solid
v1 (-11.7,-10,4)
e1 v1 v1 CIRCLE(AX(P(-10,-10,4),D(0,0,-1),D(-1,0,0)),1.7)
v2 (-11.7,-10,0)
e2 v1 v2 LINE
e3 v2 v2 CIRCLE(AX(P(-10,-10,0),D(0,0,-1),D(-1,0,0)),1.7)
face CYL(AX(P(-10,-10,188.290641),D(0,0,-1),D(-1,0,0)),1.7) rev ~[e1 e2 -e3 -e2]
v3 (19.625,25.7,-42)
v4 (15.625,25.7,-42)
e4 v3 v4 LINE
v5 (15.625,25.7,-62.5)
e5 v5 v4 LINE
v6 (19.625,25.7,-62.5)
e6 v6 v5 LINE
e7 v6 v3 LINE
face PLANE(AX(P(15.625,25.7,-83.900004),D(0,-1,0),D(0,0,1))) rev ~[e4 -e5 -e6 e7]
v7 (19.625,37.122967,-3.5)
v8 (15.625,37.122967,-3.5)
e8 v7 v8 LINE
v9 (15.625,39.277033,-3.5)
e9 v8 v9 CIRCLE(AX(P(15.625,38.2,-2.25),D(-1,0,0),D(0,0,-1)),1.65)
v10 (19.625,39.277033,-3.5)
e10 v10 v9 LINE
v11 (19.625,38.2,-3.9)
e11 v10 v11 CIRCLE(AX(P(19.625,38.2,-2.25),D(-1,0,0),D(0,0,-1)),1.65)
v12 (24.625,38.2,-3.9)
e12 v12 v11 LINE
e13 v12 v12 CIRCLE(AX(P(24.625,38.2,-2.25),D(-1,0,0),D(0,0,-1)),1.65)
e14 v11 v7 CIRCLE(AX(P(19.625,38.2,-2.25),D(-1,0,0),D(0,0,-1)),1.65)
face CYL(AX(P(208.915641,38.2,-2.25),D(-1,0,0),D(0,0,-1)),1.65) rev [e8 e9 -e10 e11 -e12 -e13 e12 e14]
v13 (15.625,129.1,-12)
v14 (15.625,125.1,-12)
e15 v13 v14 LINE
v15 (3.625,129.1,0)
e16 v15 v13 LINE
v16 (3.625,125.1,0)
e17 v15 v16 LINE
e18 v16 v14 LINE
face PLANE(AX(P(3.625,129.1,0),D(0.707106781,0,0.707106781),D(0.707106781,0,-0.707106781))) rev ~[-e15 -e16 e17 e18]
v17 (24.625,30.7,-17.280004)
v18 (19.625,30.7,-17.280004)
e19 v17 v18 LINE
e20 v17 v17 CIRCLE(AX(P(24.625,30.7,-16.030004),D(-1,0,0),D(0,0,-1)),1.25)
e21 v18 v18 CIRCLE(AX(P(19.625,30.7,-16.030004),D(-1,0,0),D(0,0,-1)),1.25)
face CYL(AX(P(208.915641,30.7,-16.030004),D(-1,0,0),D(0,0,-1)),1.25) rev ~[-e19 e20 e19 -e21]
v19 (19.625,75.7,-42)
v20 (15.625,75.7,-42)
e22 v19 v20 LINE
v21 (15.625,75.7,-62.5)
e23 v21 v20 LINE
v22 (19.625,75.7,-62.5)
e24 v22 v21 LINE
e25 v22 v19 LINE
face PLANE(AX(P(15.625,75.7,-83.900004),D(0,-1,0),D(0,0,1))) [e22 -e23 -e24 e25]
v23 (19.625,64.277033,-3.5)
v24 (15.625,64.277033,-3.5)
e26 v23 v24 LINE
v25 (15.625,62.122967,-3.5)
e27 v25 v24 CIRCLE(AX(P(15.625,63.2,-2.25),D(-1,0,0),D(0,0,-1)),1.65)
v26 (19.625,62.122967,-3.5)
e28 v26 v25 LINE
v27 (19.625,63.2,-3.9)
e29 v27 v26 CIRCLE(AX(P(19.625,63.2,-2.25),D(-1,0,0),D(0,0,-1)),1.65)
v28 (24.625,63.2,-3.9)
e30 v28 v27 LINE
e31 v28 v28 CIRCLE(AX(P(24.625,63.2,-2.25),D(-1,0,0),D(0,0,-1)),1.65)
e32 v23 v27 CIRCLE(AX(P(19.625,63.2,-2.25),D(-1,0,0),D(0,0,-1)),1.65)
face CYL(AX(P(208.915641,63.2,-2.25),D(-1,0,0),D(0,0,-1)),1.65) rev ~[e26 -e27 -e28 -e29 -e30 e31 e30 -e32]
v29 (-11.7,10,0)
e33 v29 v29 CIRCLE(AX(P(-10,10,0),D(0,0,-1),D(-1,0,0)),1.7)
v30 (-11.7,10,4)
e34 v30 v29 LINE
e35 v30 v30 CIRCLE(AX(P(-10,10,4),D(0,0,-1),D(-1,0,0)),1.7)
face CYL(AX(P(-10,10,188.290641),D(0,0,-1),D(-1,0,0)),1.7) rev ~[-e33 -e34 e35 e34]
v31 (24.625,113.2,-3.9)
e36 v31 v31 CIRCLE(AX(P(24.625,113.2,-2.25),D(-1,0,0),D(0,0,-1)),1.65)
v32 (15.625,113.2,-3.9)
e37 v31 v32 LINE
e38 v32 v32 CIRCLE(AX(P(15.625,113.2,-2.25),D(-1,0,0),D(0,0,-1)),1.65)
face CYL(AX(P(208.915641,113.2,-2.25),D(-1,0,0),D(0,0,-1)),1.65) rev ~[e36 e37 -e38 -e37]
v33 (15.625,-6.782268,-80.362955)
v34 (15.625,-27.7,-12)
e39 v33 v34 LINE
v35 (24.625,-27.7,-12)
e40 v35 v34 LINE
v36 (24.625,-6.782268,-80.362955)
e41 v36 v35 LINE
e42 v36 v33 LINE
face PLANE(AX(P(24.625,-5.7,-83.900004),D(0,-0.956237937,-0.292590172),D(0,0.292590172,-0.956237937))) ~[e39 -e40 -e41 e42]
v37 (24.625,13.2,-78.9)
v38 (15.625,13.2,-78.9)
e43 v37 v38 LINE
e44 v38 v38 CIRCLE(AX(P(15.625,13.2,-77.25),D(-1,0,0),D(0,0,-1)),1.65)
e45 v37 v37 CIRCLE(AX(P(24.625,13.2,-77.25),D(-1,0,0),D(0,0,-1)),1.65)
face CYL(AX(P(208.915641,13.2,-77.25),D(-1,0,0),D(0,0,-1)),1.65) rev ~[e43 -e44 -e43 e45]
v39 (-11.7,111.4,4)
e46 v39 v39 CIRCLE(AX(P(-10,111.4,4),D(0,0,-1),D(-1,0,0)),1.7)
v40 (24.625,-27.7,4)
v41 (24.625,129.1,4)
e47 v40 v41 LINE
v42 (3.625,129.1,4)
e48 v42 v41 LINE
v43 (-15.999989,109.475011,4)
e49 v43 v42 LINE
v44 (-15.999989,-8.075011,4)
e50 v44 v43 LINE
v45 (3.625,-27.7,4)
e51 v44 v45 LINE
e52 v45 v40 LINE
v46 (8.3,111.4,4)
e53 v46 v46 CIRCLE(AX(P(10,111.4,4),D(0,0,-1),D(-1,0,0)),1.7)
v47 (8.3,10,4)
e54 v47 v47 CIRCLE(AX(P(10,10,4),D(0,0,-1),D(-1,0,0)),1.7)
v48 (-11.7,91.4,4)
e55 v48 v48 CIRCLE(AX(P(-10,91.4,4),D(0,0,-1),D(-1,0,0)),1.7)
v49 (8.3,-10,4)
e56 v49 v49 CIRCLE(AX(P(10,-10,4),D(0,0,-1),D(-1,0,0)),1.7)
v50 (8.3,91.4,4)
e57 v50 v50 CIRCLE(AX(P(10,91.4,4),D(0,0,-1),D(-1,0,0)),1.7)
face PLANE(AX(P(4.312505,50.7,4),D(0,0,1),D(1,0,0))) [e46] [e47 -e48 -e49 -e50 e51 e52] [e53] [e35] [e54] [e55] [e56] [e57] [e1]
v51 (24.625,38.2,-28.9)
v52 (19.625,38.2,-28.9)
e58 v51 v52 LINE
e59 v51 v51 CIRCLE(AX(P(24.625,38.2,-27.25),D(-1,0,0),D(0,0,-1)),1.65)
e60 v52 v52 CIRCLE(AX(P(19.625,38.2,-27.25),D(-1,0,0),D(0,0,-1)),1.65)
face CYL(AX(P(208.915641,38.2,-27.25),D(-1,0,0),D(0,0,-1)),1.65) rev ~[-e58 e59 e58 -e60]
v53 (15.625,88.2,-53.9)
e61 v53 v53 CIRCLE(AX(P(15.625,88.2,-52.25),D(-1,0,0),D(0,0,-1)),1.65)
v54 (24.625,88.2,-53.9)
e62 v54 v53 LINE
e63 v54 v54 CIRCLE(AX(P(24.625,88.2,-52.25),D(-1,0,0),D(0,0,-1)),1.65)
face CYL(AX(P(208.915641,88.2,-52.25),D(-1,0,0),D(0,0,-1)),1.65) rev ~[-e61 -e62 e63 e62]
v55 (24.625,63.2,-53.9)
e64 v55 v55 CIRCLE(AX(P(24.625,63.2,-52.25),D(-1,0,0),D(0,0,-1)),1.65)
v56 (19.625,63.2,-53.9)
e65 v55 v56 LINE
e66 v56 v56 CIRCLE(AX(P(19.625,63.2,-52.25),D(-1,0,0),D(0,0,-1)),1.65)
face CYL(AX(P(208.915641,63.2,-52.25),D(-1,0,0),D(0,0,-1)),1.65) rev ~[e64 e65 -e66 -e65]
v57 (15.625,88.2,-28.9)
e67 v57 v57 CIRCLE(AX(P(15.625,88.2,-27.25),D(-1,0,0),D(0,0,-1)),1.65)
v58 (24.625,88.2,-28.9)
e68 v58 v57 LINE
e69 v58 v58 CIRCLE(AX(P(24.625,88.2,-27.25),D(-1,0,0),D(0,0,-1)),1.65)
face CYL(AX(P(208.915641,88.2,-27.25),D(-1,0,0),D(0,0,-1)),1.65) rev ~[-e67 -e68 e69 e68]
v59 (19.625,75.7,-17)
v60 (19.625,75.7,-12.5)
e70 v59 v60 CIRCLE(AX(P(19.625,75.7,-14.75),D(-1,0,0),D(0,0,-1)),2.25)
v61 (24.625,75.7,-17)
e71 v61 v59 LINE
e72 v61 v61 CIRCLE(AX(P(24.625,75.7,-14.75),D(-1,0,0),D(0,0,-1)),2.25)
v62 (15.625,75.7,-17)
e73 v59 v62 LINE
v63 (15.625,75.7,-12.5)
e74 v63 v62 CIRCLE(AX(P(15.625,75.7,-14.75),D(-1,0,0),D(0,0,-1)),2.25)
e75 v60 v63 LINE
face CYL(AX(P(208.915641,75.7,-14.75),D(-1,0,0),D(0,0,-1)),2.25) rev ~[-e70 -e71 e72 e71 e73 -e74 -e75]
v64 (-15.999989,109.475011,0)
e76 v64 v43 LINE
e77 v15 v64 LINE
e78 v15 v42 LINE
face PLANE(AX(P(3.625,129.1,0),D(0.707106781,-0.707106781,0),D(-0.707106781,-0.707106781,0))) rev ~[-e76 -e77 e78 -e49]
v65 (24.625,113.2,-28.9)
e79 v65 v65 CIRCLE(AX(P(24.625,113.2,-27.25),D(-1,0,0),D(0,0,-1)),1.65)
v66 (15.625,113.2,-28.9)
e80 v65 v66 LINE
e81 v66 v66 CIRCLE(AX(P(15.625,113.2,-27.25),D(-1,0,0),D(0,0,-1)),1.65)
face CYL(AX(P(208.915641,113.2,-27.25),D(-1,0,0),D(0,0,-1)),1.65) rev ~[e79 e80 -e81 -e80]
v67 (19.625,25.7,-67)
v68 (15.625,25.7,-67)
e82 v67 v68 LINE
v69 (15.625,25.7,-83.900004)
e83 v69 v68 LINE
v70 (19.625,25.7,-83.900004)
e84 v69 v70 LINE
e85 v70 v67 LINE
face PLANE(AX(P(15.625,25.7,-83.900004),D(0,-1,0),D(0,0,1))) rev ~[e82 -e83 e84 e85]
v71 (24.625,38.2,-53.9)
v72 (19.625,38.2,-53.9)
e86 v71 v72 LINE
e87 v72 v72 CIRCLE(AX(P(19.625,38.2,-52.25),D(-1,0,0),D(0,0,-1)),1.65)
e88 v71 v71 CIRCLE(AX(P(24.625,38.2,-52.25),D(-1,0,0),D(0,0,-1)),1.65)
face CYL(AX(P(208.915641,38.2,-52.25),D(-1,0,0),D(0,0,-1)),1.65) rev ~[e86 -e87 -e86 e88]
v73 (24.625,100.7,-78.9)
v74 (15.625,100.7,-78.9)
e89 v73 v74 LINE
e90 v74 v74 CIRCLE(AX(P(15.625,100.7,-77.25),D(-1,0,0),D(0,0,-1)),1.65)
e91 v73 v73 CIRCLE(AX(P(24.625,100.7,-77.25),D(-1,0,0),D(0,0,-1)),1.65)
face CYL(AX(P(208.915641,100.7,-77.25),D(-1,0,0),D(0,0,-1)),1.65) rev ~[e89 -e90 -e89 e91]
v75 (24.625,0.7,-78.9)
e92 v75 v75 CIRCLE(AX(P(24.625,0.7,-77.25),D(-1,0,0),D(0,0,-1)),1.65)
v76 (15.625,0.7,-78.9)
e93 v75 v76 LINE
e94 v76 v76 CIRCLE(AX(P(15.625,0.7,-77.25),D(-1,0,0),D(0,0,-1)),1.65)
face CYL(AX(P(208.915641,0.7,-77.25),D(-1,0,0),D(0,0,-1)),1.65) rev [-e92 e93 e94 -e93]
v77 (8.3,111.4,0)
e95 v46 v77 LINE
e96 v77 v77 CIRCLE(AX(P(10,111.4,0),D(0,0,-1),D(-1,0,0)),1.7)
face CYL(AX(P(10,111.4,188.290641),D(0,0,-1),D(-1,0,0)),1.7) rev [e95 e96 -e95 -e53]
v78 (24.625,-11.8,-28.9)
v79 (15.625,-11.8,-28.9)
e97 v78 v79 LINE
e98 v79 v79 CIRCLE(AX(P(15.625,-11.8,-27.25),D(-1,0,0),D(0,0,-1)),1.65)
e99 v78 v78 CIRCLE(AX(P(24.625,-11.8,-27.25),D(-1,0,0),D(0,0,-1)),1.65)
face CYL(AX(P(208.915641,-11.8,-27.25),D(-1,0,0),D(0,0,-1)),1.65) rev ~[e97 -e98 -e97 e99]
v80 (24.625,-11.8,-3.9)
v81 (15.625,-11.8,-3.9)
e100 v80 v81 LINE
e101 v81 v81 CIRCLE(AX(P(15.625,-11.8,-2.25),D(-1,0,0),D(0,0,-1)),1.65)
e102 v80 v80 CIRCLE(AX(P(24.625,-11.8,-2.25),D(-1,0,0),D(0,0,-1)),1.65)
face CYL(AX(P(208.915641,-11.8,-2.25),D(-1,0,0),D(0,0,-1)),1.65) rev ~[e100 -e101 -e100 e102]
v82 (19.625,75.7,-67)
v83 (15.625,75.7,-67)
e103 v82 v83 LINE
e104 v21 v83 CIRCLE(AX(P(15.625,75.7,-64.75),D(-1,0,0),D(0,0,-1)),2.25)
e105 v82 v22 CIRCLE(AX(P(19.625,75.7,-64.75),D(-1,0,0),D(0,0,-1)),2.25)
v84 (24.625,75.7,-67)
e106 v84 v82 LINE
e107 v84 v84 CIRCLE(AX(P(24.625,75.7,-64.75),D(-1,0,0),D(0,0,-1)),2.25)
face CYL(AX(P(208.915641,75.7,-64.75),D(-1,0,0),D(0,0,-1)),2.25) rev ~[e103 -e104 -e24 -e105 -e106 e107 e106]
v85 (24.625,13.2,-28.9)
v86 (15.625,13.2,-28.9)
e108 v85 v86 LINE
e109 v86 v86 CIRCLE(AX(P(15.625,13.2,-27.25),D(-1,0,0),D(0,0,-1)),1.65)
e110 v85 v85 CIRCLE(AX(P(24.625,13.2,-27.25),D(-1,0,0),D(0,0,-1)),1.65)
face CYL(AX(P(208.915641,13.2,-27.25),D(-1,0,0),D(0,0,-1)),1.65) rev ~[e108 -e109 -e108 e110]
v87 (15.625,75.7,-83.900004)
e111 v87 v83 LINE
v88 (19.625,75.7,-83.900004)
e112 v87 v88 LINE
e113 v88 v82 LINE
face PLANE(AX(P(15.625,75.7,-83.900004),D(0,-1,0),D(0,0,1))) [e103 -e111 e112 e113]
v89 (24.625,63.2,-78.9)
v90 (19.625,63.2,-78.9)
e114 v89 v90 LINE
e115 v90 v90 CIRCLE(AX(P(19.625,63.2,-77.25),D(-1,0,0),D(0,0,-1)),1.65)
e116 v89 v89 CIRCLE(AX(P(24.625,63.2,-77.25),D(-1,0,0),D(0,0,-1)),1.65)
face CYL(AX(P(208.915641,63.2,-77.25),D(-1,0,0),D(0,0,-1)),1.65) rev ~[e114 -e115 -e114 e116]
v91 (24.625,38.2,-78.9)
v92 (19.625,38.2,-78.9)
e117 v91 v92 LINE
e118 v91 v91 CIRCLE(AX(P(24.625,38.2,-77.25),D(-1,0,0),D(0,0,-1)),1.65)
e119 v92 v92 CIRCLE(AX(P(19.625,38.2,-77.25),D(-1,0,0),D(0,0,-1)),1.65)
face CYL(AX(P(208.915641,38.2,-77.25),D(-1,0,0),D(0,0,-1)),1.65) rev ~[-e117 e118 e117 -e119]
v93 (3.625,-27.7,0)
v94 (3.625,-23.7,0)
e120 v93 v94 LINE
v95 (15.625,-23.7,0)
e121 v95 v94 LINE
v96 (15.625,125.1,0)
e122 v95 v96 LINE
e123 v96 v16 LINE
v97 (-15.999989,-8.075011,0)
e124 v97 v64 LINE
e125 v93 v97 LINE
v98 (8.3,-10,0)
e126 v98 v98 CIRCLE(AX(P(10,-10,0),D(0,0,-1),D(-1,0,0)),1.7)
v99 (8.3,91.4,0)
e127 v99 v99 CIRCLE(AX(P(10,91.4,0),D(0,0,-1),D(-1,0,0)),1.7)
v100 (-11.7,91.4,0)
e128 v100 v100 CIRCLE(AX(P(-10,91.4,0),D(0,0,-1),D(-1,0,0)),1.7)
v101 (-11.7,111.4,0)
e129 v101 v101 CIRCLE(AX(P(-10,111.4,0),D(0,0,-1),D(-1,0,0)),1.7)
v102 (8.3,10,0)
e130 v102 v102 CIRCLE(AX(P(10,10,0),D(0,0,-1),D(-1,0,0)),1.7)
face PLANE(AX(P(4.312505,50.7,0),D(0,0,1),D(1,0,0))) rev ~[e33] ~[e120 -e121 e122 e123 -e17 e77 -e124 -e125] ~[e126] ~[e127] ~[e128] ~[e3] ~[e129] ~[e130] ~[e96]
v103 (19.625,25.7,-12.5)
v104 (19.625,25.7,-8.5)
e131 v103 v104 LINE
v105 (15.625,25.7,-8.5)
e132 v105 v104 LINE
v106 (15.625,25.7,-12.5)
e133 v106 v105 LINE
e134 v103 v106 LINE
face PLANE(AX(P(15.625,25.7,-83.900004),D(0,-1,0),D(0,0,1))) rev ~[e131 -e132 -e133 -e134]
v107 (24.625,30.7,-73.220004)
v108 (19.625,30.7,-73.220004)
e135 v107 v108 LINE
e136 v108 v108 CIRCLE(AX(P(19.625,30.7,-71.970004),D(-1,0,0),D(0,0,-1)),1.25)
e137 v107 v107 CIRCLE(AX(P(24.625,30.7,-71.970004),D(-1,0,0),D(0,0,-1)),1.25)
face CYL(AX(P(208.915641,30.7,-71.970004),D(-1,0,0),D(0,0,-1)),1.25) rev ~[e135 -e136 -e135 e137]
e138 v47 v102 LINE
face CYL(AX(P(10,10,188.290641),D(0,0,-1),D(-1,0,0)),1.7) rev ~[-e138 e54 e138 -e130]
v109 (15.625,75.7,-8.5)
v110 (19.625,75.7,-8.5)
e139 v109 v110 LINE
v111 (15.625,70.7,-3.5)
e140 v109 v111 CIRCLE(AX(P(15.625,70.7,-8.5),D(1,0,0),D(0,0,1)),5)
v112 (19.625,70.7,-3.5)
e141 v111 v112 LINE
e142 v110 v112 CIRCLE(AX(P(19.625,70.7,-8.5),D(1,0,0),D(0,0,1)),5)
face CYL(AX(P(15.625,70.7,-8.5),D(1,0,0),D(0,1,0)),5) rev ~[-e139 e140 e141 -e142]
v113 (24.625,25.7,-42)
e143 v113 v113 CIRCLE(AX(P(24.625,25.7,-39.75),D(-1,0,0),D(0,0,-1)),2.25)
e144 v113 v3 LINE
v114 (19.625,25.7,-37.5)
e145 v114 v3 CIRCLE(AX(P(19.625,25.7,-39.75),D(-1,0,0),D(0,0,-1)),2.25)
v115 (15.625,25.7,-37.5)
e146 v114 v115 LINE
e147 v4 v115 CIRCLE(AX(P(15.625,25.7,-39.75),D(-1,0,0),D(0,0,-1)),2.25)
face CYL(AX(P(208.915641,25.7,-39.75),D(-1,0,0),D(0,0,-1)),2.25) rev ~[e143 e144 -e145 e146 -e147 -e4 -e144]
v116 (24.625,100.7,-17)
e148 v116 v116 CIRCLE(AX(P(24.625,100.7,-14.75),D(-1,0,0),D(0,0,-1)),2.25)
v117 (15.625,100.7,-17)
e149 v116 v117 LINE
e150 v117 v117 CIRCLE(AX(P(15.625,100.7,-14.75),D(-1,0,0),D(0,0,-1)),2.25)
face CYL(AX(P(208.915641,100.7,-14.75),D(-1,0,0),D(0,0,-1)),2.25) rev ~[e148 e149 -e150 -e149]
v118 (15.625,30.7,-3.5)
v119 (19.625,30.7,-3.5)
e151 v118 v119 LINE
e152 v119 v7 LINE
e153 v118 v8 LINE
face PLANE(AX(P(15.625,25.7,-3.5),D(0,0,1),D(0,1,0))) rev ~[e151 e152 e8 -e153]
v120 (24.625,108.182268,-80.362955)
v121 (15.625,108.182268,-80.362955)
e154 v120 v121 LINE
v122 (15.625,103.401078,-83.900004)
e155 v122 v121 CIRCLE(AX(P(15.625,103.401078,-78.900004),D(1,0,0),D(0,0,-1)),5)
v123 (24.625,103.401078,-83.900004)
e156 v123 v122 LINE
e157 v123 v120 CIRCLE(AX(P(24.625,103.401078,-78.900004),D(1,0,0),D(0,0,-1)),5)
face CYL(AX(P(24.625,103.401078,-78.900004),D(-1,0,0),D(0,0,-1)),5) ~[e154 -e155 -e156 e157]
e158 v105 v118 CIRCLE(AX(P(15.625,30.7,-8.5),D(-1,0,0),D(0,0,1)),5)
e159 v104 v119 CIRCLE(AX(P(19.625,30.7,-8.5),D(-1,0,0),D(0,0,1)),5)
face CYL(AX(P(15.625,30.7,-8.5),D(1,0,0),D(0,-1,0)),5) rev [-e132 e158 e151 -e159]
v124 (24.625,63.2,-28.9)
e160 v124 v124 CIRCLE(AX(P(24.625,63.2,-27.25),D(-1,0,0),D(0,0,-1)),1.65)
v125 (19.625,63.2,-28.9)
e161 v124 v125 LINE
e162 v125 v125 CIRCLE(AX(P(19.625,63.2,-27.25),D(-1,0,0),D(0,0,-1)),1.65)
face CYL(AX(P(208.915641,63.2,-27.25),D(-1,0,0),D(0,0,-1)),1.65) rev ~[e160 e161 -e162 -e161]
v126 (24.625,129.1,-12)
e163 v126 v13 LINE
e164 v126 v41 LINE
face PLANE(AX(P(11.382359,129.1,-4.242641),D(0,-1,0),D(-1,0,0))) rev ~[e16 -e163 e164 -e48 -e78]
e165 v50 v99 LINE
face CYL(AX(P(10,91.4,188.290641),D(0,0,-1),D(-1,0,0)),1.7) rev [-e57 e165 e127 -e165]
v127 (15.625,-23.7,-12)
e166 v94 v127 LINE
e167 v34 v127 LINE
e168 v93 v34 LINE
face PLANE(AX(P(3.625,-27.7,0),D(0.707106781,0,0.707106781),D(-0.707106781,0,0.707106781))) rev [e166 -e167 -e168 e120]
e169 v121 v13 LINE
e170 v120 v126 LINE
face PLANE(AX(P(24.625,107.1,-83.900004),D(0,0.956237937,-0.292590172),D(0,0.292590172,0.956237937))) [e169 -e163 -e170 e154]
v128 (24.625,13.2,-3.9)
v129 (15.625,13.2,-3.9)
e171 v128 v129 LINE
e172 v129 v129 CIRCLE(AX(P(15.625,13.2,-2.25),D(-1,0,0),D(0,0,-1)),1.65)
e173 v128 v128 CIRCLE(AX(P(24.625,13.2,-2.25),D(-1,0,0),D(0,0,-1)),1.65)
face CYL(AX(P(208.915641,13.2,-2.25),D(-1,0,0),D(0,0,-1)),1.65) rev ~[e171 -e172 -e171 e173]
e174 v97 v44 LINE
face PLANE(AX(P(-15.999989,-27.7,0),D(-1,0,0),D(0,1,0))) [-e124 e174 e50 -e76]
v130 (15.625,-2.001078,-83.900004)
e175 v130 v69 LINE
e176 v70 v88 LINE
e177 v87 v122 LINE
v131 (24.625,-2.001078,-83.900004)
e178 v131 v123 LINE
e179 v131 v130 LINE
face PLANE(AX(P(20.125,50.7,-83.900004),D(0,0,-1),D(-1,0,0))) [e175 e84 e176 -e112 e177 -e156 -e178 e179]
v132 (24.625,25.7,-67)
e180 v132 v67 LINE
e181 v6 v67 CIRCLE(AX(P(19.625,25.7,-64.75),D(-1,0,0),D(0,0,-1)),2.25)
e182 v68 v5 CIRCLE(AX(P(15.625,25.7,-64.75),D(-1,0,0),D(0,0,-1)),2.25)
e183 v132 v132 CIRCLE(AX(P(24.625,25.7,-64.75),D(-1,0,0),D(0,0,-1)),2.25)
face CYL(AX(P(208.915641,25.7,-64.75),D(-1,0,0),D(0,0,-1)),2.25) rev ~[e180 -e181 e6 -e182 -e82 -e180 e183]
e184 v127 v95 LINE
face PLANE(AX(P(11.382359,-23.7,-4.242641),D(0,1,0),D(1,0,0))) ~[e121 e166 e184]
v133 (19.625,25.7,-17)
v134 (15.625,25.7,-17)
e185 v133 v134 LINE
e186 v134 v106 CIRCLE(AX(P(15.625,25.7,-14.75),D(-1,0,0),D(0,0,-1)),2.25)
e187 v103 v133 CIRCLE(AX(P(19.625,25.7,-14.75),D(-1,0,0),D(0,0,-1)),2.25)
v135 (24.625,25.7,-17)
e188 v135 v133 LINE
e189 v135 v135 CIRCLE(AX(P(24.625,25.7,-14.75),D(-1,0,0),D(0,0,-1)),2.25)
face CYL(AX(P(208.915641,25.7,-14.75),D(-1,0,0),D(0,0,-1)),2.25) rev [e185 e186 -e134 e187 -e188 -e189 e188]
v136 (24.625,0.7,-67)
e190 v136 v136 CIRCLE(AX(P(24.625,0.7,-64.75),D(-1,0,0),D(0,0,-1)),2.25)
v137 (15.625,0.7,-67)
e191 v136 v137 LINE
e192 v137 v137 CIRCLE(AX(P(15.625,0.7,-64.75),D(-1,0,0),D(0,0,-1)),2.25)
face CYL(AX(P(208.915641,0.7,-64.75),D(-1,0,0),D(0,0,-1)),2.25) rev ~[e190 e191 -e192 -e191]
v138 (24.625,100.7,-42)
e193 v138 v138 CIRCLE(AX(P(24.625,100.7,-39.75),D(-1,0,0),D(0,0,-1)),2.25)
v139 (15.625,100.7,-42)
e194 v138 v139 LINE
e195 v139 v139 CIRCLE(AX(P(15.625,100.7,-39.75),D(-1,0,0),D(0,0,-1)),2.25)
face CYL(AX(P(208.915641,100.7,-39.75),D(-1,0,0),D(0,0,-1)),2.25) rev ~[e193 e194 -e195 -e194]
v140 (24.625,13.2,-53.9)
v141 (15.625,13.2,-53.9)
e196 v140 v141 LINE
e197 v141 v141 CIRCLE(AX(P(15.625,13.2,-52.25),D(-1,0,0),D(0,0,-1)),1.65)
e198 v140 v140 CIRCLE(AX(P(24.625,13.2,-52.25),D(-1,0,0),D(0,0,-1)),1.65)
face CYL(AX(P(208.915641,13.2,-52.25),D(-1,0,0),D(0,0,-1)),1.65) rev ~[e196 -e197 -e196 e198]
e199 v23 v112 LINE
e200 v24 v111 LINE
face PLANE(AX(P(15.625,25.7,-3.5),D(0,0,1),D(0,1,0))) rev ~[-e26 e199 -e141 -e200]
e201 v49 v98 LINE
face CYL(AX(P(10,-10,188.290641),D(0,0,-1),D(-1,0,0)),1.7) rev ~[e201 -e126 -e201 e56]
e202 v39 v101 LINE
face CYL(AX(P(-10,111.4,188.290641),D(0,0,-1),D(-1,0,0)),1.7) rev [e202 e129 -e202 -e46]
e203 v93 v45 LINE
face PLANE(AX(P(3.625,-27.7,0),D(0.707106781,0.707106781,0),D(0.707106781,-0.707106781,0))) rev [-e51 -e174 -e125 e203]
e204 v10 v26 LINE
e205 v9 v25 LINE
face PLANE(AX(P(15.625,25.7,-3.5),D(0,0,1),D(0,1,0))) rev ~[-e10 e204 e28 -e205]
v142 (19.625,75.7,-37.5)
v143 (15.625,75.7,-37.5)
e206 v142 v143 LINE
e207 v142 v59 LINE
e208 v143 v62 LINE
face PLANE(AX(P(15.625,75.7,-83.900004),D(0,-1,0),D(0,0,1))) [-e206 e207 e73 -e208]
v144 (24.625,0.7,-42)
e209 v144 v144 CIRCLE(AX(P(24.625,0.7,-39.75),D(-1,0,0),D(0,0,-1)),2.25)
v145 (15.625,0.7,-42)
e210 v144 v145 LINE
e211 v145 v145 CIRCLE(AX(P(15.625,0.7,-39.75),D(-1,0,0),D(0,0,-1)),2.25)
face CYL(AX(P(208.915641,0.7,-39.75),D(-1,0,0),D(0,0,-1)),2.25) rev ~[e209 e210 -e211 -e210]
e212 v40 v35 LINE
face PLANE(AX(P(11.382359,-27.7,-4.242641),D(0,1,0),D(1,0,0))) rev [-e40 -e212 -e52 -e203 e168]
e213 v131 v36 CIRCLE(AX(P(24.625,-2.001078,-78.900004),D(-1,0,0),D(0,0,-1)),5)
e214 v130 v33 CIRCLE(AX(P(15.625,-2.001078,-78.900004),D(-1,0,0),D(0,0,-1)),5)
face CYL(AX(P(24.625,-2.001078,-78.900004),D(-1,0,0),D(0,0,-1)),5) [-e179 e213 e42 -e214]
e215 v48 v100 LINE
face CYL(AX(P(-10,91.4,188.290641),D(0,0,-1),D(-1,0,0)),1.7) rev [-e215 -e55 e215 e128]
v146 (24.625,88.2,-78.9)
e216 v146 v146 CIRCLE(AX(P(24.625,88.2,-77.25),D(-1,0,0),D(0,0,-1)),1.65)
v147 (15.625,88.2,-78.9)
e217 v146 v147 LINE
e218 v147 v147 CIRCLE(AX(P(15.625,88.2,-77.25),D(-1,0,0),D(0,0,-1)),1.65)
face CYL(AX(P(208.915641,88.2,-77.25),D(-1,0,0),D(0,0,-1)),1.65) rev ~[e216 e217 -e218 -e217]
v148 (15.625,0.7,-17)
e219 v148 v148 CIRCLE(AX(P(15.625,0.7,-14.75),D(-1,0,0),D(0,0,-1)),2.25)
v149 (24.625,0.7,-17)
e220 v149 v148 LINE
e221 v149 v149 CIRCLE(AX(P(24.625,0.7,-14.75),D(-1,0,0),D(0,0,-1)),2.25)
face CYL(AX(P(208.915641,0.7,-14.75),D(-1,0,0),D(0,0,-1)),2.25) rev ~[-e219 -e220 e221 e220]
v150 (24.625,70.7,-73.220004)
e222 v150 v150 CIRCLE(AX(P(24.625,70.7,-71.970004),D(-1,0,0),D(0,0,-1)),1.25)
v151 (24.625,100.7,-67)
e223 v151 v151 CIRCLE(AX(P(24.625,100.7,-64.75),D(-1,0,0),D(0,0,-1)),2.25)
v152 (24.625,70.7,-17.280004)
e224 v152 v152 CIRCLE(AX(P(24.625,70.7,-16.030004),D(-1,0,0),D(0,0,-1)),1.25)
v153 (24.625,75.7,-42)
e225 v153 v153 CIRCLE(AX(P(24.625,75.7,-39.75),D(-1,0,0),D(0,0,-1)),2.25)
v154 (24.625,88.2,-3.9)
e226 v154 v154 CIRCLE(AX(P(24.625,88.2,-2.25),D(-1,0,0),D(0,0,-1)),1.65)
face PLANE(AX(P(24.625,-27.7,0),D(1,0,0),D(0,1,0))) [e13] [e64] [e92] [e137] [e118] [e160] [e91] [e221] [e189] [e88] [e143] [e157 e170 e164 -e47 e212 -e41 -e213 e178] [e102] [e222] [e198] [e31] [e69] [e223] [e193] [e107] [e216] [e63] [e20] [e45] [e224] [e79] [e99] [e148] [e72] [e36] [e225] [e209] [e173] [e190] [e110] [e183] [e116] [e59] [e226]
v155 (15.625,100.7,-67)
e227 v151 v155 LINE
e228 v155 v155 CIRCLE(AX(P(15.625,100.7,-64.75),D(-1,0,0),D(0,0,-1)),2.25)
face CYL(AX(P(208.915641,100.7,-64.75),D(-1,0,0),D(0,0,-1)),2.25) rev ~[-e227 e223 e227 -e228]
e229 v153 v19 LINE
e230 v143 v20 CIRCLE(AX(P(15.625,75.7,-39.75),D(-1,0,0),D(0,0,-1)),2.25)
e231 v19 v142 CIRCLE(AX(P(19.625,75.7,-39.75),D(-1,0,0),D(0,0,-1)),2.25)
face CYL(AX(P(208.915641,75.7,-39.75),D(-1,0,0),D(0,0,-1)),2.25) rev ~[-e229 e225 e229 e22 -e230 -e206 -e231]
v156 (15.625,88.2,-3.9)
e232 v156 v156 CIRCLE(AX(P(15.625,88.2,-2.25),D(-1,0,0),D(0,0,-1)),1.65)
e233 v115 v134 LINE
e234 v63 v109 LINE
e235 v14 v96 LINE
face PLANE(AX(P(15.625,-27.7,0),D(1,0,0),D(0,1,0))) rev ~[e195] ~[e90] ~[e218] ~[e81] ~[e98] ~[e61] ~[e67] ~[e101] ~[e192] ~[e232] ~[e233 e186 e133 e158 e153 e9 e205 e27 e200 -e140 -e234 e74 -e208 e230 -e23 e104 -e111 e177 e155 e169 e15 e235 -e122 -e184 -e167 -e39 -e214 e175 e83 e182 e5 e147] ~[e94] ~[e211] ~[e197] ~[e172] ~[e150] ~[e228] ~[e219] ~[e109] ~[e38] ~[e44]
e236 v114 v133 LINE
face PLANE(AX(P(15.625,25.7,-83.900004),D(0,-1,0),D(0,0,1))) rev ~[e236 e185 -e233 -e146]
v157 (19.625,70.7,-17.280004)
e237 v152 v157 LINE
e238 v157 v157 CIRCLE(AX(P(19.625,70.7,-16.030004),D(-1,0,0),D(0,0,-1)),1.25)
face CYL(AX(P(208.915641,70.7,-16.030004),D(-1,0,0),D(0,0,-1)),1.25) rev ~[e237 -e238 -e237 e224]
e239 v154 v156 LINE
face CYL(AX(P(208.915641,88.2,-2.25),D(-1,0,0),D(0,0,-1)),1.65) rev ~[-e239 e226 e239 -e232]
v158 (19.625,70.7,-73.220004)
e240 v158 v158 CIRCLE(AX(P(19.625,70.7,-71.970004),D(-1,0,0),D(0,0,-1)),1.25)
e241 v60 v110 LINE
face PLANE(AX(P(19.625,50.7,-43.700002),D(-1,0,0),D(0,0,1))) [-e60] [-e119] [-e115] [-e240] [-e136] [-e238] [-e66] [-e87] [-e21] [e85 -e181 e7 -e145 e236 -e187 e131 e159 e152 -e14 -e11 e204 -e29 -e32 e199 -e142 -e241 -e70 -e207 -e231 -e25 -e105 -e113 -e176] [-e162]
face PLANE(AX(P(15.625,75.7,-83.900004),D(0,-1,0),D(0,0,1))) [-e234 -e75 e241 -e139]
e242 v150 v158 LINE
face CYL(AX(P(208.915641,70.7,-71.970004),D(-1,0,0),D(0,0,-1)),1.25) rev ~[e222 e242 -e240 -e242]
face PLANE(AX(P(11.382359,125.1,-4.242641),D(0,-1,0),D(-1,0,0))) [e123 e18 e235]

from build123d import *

# Parameters (mm, degrees)
ESQUISSE1_W                     = 40.624989268
ESQUISSE1_H                     = 156.8
BOSS_EXTRU_1_DEPTH              = 4
ESQUISSE2_W                     = 9
ESQUISSE2_H                     = 156.8
BOSS_EXTRU_2_DEPTH              = 83.900004333
ESQUISSE3_W                     = 80.400004333
ESQUISSE3_H                     = 50
ENL_V_MAT_EXTRU_1_DEPTH         = 4
CONG_1_R                        = 5
D_GAGEMENT_M31_D                = 3.4
BOSS_EXTRU_3_DEPTH              = 4
ENL_V_MAT_EXTRU_2_DEPTH         = 156.924377041
ENL_V_MAT_EXTRU_3_DEPTH         = 160.236963297
TROU_TARAUD_M3X0_51_D           = 2.5
TROU_TARAUD_M4X0_71_D           = 3.3
R_P_TITION_LIN_AIRE1_COUNT      = 4
R_P_TITION_LIN_AIRE1_PITCH      = 25
R_P_TITION_LIN_AIRE1_COUNT_DIR2 = 3
R_P_TITION_LIN_AIRE1_PITCH_DIR2 = 25
D_GAGEMENT_M42_D                = 4.5
R_P_TITION_LIN_AIRE2_COUNT      = 3
R_P_TITION_LIN_AIRE2_PITCH      = 25
R_P_TITION_LIN_AIRE2_COUNT_DIR2 = 2
R_P_TITION_LIN_AIRE2_PITCH_DIR2 = 25
TROU_TARAUD_M4X0_72_D           = 3.3
SYM_TRIE2_COPY_1_D              = 3.3
SYM_TRIE2_COPY_2_D              = 3.3
SYM_TRIE2_COPY_3_D              = 3.3
SYM_TRIE2_COPY_4_D              = 3.3
SYM_TRIE2_COPY_5_D              = 3.3
SYM_TRIE2_COPY_6_D              = 3.3
SYM_TRIE2_COPY_7_D              = 3.3
SYM_TRIE2_COPY_8_D              = 3.3
SYM_TRIE2_COPY_9_D              = 3.3
SYM_TRIE2_COPY_10_D             = 4.5
SYM_TRIE2_COPY_11_D             = 4.5
SYM_TRIE2_COPY_12_D             = 4.5
SYM_TRIE2_COPY_13_D             = 4.5
SYM_TRIE2_COPY_14_D             = 4.5
CONG_2_R                        = 5


with BuildPart() as part:
    # Esquisse1 → Boss.-Extru.1 (new body)
    with BuildSketch(Plane.XY):
        with Locations((4.312505437, 50.7)):
            Rectangle(ESQUISSE1_W, ESQUISSE1_H)
    extrude(amount=BOSS_EXTRU_1_DEPTH)

    # Esquisse2 → Boss.-Extru.2 (add)
    with BuildSketch(Plane(origin=(0, 0, 0), x_dir=(-1, 0, 0), z_dir=(0, 0, -1))):
        with Locations((-20.125000071, 50.7)):
            Rectangle(ESQUISSE2_W, ESQUISSE2_H)
    extrude(amount=BOSS_EXTRU_2_DEPTH)

    # Esquisse3 → Enlèv. mat.-Extru.1 (cut)
    with BuildSketch(Plane.ZY.offset(-15.625000071)):
        with Locations((-43.700002166, 50.7)):
            Rectangle(ESQUISSE3_W, ESQUISSE3_H)
    extrude(amount=-ENL_V_MAT_EXTRU_1_DEPTH, mode=Mode.SUBTRACT)

    # Congé1
    cong_1_edges = [part.edges().sort_by_distance(p)[0] for p in [
        (17.625000071, 75.7, -3.5),
        (17.625000071, 25.7, -3.5),
    ]]
    fillet(cong_1_edges, radius=CONG_1_R)

    # Dégagement M31 (through all)
    with Locations(Plane.XY.offset(4)):
        with Locations((-10, -10), (-10, 10), (10, 10), (10, -10)):
            d_gagement_m31 = Hole(D_GAGEMENT_M31_D / 2)

    # Symétrie1: Dégagement M31 across plane
    add(d_gagement_m31.mirror(Plane.ZX.offset(50.7)), mode=Mode.SUBTRACT)

    # Esquisse8 → Boss.-Extru.3 (add)
    with BuildSketch(Plane(origin=(0, 129.1, 0), x_dir=(1, 0, 0), z_dir=(0, 1, 0))):
        Polygon((3.625000071, 0), (15.625000071, 12), (15.625000071, 0), align=None)
    boss_extru_3 = extrude(amount=-BOSS_EXTRU_3_DEPTH)

    # Esquisse10 → Enlèv. mat.-Extru.2 (cut, through all)
    with BuildSketch(Plane(origin=(0, 0, 0), x_dir=(-1, 0, 0), z_dir=(0, 0, -1))):
        Polygon((-3.625000071, 129.1), (15.999989197, 109.475010732), (15.999989197, 129.1), align=None)
    enl_v_mat_extru_2 = extrude(amount=-ENL_V_MAT_EXTRU_2_DEPTH, mode=Mode.SUBTRACT)

    # Esquisse11 → Enlèv. mat.-Extru.3 (cut, through all)
    with BuildSketch(Plane(origin=(24.625000071, 0, 0), x_dir=(0, 0, -1), z_dir=(1, 0, 0))):
        Polygon((83.900004333, 107.1), (12, 129.1), (83.900004333, 129.1), align=None)
    enl_v_mat_extru_3 = extrude(amount=-ENL_V_MAT_EXTRU_3_DEPTH, mode=Mode.SUBTRACT)

    # Trou taraudé M3x0.51 (through all)
    with Locations(Plane(origin=(24.625000071, 70.7, -71.970004333), x_dir=(0, 0, 1), z_dir=(1, 0, 0))):
        with Locations((0, 0), (0, 40), (55.94, 0), (55.94, 40)):
            Hole(TROU_TARAUD_M3X0_51_D / 2)

    # Trou taraudé M4x0.71 (through all)
    with Locations(Plane(origin=(24.625000071, 63.2, -2.25), x_dir=(0, 0, 1), z_dir=(1, 0, 0))):
        with Locations((0, 0)):
            trou_taraud_m4x0_71 = Hole(TROU_TARAUD_M4X0_71_D / 2)

    # Répétition linéaire1: Trou taraud_ M4x0.71 4 × 3, 2 skipped
    with Locations(*[(0, j * R_P_TITION_LIN_AIRE1_PITCH_DIR2, -i * R_P_TITION_LIN_AIRE1_PITCH) for i in range(R_P_TITION_LIN_AIRE1_COUNT) for j in range(R_P_TITION_LIN_AIRE1_COUNT_DIR2) if (i, j) not in ((0, 0), (2, 2), (3, 2))]):
        add(trou_taraud_m4x0_71, mode=Mode.SUBTRACT)

    # Dégagement M42 (through all)
    with Locations(Plane(origin=(24.625000071, 75.7, -14.75), x_dir=(0, 0, 1), z_dir=(1, 0, 0))):
        with Locations((0, 0)):
            d_gagement_m42 = Hole(D_GAGEMENT_M42_D / 2)

    # Répétition linéaire2: D_gagement M42 3 × 2
    with Locations(*[(0, j * R_P_TITION_LIN_AIRE2_PITCH_DIR2, -i * R_P_TITION_LIN_AIRE2_PITCH) for i in range(R_P_TITION_LIN_AIRE2_COUNT) for j in range(R_P_TITION_LIN_AIRE2_COUNT_DIR2) if (i, j) != (0, 0)]):
        add(d_gagement_m42, mode=Mode.SUBTRACT)

    # Trou taraudé M4x0.72 (through all)
    with Locations(Plane(origin=(24.625000071, 100.7, -77.25), x_dir=(0, 0, 1), z_dir=(1, 0, 0))):
        with Locations((0, 0)):
            trou_taraud_m4x0_72 = Hole(TROU_TARAUD_M4X0_72_D / 2)

    # Symétrie2: Boss.-Extru.3, Enlèv. mat.-Extru.2, Enlèv. mat.-Extru.3, Trou taraudé M4x0.71, Dégagement M42, Trou taraudé M4x0.72 across plane
    add(boss_extru_3.mirror(Plane.ZX.offset(50.7)))
    add(enl_v_mat_extru_2.mirror(Plane.ZX.offset(50.7)), mode=Mode.SUBTRACT)
    add(enl_v_mat_extru_3.mirror(Plane.ZX.offset(50.7)), mode=Mode.SUBTRACT)
    add(trou_taraud_m4x0_71.mirror(Plane.ZX.offset(50.7)), mode=Mode.SUBTRACT)
    add(d_gagement_m42.mirror(Plane.ZX.offset(50.7)), mode=Mode.SUBTRACT)
    add(trou_taraud_m4x0_72.mirror(Plane.ZX.offset(50.7)), mode=Mode.SUBTRACT)

    # Symétrie2 copy 1 (through all)
    with Locations(Plane(origin=(24.625000071, 13.2, -2.25), x_dir=(0, 0, 1), z_dir=(1, 0, 0))):
        with Locations((0, 0)):
            Hole(SYM_TRIE2_COPY_1_D / 2)

    # Symétrie2 copy 2 (through all)
    with Locations(Plane(origin=(24.625000071, -11.8, -2.25), x_dir=(0, 0, 1), z_dir=(1, 0, 0))):
        with Locations((0, 0)):
            Hole(SYM_TRIE2_COPY_2_D / 2)

    # Symétrie2 copy 3 (through all)
    with Locations(Plane(origin=(24.625000071, 38.2, -27.25), x_dir=(0, 0, 1), z_dir=(1, 0, 0))):
        with Locations((0, 0)):
            Hole(SYM_TRIE2_COPY_3_D / 2)

    # Symétrie2 copy 4 (through all)
    with Locations(Plane(origin=(24.625000071, 13.2, -27.25), x_dir=(0, 0, 1), z_dir=(1, 0, 0))):
        with Locations((0, 0)):
            Hole(SYM_TRIE2_COPY_4_D / 2)

    # Symétrie2 copy 5 (through all)
    with Locations(Plane(origin=(24.625000071, -11.8, -27.25), x_dir=(0, 0, 1), z_dir=(1, 0, 0))):
        with Locations((0, 0)):
            Hole(SYM_TRIE2_COPY_5_D / 2)

    # Symétrie2 copy 6 (through all)
    with Locations(Plane(origin=(24.625000071, 38.2, -52.25), x_dir=(0, 0, 1), z_dir=(1, 0, 0))):
        with Locations((0, 0)):
            Hole(SYM_TRIE2_COPY_6_D / 2)

    # Symétrie2 copy 7 (through all)
    with Locations(Plane(origin=(24.625000071, 13.2, -52.25), x_dir=(0, 0, 1), z_dir=(1, 0, 0))):
        with Locations((0, 0)):
            Hole(SYM_TRIE2_COPY_7_D / 2)

    # Symétrie2 copy 8 (through all)
    with Locations(Plane(origin=(24.625000071, 38.2, -77.25), x_dir=(0, 0, 1), z_dir=(1, 0, 0))):
        with Locations((0, 0)):
            Hole(SYM_TRIE2_COPY_8_D / 2)

    # Symétrie2 copy 9 (through all)
    with Locations(Plane(origin=(24.625000071, 13.2, -77.25), x_dir=(0, 0, 1), z_dir=(1, 0, 0))):
        with Locations((0, 0)):
            Hole(SYM_TRIE2_COPY_9_D / 2)

    # Symétrie2 copy 10 (through all)
    with Locations(Plane(origin=(24.625000071, 0.7, -14.75), x_dir=(0, 0, 1), z_dir=(1, 0, 0))):
        with Locations((0, 0)):
            Hole(SYM_TRIE2_COPY_10_D / 2)

    # Symétrie2 copy 11 (through all)
    with Locations(Plane(origin=(24.625000071, 25.7, -39.75), x_dir=(0, 0, 1), z_dir=(1, 0, 0))):
        with Locations((0, 0)):
            Hole(SYM_TRIE2_COPY_11_D / 2)

    # Symétrie2 copy 12 (through all)
    with Locations(Plane(origin=(24.625000071, 0.7, -39.75), x_dir=(0, 0, 1), z_dir=(1, 0, 0))):
        with Locations((0, 0)):
            Hole(SYM_TRIE2_COPY_12_D / 2)

    # Symétrie2 copy 13 (through all)
    with Locations(Plane(origin=(24.625000071, 25.7, -64.75), x_dir=(0, 0, 1), z_dir=(1, 0, 0))):
        with Locations((0, 0)):
            Hole(SYM_TRIE2_COPY_13_D / 2)

    # Symétrie2 copy 14 (through all)
    with Locations(Plane(origin=(24.625000071, 0.7, -64.75), x_dir=(0, 0, 1), z_dir=(1, 0, 0))):
        with Locations((0, 0)):
            Hole(SYM_TRIE2_COPY_14_D / 2)

    # Congé2
    cong_2_edges = [part.edges().sort_by_distance(p)[0] for p in [
        (20.125000071, 107.1, -83.900004333),
        (20.125000071, -5.7, -83.900004333),
    ]]
    fillet(cong_2_edges, radius=CONG_2_R)


solid = part.part
